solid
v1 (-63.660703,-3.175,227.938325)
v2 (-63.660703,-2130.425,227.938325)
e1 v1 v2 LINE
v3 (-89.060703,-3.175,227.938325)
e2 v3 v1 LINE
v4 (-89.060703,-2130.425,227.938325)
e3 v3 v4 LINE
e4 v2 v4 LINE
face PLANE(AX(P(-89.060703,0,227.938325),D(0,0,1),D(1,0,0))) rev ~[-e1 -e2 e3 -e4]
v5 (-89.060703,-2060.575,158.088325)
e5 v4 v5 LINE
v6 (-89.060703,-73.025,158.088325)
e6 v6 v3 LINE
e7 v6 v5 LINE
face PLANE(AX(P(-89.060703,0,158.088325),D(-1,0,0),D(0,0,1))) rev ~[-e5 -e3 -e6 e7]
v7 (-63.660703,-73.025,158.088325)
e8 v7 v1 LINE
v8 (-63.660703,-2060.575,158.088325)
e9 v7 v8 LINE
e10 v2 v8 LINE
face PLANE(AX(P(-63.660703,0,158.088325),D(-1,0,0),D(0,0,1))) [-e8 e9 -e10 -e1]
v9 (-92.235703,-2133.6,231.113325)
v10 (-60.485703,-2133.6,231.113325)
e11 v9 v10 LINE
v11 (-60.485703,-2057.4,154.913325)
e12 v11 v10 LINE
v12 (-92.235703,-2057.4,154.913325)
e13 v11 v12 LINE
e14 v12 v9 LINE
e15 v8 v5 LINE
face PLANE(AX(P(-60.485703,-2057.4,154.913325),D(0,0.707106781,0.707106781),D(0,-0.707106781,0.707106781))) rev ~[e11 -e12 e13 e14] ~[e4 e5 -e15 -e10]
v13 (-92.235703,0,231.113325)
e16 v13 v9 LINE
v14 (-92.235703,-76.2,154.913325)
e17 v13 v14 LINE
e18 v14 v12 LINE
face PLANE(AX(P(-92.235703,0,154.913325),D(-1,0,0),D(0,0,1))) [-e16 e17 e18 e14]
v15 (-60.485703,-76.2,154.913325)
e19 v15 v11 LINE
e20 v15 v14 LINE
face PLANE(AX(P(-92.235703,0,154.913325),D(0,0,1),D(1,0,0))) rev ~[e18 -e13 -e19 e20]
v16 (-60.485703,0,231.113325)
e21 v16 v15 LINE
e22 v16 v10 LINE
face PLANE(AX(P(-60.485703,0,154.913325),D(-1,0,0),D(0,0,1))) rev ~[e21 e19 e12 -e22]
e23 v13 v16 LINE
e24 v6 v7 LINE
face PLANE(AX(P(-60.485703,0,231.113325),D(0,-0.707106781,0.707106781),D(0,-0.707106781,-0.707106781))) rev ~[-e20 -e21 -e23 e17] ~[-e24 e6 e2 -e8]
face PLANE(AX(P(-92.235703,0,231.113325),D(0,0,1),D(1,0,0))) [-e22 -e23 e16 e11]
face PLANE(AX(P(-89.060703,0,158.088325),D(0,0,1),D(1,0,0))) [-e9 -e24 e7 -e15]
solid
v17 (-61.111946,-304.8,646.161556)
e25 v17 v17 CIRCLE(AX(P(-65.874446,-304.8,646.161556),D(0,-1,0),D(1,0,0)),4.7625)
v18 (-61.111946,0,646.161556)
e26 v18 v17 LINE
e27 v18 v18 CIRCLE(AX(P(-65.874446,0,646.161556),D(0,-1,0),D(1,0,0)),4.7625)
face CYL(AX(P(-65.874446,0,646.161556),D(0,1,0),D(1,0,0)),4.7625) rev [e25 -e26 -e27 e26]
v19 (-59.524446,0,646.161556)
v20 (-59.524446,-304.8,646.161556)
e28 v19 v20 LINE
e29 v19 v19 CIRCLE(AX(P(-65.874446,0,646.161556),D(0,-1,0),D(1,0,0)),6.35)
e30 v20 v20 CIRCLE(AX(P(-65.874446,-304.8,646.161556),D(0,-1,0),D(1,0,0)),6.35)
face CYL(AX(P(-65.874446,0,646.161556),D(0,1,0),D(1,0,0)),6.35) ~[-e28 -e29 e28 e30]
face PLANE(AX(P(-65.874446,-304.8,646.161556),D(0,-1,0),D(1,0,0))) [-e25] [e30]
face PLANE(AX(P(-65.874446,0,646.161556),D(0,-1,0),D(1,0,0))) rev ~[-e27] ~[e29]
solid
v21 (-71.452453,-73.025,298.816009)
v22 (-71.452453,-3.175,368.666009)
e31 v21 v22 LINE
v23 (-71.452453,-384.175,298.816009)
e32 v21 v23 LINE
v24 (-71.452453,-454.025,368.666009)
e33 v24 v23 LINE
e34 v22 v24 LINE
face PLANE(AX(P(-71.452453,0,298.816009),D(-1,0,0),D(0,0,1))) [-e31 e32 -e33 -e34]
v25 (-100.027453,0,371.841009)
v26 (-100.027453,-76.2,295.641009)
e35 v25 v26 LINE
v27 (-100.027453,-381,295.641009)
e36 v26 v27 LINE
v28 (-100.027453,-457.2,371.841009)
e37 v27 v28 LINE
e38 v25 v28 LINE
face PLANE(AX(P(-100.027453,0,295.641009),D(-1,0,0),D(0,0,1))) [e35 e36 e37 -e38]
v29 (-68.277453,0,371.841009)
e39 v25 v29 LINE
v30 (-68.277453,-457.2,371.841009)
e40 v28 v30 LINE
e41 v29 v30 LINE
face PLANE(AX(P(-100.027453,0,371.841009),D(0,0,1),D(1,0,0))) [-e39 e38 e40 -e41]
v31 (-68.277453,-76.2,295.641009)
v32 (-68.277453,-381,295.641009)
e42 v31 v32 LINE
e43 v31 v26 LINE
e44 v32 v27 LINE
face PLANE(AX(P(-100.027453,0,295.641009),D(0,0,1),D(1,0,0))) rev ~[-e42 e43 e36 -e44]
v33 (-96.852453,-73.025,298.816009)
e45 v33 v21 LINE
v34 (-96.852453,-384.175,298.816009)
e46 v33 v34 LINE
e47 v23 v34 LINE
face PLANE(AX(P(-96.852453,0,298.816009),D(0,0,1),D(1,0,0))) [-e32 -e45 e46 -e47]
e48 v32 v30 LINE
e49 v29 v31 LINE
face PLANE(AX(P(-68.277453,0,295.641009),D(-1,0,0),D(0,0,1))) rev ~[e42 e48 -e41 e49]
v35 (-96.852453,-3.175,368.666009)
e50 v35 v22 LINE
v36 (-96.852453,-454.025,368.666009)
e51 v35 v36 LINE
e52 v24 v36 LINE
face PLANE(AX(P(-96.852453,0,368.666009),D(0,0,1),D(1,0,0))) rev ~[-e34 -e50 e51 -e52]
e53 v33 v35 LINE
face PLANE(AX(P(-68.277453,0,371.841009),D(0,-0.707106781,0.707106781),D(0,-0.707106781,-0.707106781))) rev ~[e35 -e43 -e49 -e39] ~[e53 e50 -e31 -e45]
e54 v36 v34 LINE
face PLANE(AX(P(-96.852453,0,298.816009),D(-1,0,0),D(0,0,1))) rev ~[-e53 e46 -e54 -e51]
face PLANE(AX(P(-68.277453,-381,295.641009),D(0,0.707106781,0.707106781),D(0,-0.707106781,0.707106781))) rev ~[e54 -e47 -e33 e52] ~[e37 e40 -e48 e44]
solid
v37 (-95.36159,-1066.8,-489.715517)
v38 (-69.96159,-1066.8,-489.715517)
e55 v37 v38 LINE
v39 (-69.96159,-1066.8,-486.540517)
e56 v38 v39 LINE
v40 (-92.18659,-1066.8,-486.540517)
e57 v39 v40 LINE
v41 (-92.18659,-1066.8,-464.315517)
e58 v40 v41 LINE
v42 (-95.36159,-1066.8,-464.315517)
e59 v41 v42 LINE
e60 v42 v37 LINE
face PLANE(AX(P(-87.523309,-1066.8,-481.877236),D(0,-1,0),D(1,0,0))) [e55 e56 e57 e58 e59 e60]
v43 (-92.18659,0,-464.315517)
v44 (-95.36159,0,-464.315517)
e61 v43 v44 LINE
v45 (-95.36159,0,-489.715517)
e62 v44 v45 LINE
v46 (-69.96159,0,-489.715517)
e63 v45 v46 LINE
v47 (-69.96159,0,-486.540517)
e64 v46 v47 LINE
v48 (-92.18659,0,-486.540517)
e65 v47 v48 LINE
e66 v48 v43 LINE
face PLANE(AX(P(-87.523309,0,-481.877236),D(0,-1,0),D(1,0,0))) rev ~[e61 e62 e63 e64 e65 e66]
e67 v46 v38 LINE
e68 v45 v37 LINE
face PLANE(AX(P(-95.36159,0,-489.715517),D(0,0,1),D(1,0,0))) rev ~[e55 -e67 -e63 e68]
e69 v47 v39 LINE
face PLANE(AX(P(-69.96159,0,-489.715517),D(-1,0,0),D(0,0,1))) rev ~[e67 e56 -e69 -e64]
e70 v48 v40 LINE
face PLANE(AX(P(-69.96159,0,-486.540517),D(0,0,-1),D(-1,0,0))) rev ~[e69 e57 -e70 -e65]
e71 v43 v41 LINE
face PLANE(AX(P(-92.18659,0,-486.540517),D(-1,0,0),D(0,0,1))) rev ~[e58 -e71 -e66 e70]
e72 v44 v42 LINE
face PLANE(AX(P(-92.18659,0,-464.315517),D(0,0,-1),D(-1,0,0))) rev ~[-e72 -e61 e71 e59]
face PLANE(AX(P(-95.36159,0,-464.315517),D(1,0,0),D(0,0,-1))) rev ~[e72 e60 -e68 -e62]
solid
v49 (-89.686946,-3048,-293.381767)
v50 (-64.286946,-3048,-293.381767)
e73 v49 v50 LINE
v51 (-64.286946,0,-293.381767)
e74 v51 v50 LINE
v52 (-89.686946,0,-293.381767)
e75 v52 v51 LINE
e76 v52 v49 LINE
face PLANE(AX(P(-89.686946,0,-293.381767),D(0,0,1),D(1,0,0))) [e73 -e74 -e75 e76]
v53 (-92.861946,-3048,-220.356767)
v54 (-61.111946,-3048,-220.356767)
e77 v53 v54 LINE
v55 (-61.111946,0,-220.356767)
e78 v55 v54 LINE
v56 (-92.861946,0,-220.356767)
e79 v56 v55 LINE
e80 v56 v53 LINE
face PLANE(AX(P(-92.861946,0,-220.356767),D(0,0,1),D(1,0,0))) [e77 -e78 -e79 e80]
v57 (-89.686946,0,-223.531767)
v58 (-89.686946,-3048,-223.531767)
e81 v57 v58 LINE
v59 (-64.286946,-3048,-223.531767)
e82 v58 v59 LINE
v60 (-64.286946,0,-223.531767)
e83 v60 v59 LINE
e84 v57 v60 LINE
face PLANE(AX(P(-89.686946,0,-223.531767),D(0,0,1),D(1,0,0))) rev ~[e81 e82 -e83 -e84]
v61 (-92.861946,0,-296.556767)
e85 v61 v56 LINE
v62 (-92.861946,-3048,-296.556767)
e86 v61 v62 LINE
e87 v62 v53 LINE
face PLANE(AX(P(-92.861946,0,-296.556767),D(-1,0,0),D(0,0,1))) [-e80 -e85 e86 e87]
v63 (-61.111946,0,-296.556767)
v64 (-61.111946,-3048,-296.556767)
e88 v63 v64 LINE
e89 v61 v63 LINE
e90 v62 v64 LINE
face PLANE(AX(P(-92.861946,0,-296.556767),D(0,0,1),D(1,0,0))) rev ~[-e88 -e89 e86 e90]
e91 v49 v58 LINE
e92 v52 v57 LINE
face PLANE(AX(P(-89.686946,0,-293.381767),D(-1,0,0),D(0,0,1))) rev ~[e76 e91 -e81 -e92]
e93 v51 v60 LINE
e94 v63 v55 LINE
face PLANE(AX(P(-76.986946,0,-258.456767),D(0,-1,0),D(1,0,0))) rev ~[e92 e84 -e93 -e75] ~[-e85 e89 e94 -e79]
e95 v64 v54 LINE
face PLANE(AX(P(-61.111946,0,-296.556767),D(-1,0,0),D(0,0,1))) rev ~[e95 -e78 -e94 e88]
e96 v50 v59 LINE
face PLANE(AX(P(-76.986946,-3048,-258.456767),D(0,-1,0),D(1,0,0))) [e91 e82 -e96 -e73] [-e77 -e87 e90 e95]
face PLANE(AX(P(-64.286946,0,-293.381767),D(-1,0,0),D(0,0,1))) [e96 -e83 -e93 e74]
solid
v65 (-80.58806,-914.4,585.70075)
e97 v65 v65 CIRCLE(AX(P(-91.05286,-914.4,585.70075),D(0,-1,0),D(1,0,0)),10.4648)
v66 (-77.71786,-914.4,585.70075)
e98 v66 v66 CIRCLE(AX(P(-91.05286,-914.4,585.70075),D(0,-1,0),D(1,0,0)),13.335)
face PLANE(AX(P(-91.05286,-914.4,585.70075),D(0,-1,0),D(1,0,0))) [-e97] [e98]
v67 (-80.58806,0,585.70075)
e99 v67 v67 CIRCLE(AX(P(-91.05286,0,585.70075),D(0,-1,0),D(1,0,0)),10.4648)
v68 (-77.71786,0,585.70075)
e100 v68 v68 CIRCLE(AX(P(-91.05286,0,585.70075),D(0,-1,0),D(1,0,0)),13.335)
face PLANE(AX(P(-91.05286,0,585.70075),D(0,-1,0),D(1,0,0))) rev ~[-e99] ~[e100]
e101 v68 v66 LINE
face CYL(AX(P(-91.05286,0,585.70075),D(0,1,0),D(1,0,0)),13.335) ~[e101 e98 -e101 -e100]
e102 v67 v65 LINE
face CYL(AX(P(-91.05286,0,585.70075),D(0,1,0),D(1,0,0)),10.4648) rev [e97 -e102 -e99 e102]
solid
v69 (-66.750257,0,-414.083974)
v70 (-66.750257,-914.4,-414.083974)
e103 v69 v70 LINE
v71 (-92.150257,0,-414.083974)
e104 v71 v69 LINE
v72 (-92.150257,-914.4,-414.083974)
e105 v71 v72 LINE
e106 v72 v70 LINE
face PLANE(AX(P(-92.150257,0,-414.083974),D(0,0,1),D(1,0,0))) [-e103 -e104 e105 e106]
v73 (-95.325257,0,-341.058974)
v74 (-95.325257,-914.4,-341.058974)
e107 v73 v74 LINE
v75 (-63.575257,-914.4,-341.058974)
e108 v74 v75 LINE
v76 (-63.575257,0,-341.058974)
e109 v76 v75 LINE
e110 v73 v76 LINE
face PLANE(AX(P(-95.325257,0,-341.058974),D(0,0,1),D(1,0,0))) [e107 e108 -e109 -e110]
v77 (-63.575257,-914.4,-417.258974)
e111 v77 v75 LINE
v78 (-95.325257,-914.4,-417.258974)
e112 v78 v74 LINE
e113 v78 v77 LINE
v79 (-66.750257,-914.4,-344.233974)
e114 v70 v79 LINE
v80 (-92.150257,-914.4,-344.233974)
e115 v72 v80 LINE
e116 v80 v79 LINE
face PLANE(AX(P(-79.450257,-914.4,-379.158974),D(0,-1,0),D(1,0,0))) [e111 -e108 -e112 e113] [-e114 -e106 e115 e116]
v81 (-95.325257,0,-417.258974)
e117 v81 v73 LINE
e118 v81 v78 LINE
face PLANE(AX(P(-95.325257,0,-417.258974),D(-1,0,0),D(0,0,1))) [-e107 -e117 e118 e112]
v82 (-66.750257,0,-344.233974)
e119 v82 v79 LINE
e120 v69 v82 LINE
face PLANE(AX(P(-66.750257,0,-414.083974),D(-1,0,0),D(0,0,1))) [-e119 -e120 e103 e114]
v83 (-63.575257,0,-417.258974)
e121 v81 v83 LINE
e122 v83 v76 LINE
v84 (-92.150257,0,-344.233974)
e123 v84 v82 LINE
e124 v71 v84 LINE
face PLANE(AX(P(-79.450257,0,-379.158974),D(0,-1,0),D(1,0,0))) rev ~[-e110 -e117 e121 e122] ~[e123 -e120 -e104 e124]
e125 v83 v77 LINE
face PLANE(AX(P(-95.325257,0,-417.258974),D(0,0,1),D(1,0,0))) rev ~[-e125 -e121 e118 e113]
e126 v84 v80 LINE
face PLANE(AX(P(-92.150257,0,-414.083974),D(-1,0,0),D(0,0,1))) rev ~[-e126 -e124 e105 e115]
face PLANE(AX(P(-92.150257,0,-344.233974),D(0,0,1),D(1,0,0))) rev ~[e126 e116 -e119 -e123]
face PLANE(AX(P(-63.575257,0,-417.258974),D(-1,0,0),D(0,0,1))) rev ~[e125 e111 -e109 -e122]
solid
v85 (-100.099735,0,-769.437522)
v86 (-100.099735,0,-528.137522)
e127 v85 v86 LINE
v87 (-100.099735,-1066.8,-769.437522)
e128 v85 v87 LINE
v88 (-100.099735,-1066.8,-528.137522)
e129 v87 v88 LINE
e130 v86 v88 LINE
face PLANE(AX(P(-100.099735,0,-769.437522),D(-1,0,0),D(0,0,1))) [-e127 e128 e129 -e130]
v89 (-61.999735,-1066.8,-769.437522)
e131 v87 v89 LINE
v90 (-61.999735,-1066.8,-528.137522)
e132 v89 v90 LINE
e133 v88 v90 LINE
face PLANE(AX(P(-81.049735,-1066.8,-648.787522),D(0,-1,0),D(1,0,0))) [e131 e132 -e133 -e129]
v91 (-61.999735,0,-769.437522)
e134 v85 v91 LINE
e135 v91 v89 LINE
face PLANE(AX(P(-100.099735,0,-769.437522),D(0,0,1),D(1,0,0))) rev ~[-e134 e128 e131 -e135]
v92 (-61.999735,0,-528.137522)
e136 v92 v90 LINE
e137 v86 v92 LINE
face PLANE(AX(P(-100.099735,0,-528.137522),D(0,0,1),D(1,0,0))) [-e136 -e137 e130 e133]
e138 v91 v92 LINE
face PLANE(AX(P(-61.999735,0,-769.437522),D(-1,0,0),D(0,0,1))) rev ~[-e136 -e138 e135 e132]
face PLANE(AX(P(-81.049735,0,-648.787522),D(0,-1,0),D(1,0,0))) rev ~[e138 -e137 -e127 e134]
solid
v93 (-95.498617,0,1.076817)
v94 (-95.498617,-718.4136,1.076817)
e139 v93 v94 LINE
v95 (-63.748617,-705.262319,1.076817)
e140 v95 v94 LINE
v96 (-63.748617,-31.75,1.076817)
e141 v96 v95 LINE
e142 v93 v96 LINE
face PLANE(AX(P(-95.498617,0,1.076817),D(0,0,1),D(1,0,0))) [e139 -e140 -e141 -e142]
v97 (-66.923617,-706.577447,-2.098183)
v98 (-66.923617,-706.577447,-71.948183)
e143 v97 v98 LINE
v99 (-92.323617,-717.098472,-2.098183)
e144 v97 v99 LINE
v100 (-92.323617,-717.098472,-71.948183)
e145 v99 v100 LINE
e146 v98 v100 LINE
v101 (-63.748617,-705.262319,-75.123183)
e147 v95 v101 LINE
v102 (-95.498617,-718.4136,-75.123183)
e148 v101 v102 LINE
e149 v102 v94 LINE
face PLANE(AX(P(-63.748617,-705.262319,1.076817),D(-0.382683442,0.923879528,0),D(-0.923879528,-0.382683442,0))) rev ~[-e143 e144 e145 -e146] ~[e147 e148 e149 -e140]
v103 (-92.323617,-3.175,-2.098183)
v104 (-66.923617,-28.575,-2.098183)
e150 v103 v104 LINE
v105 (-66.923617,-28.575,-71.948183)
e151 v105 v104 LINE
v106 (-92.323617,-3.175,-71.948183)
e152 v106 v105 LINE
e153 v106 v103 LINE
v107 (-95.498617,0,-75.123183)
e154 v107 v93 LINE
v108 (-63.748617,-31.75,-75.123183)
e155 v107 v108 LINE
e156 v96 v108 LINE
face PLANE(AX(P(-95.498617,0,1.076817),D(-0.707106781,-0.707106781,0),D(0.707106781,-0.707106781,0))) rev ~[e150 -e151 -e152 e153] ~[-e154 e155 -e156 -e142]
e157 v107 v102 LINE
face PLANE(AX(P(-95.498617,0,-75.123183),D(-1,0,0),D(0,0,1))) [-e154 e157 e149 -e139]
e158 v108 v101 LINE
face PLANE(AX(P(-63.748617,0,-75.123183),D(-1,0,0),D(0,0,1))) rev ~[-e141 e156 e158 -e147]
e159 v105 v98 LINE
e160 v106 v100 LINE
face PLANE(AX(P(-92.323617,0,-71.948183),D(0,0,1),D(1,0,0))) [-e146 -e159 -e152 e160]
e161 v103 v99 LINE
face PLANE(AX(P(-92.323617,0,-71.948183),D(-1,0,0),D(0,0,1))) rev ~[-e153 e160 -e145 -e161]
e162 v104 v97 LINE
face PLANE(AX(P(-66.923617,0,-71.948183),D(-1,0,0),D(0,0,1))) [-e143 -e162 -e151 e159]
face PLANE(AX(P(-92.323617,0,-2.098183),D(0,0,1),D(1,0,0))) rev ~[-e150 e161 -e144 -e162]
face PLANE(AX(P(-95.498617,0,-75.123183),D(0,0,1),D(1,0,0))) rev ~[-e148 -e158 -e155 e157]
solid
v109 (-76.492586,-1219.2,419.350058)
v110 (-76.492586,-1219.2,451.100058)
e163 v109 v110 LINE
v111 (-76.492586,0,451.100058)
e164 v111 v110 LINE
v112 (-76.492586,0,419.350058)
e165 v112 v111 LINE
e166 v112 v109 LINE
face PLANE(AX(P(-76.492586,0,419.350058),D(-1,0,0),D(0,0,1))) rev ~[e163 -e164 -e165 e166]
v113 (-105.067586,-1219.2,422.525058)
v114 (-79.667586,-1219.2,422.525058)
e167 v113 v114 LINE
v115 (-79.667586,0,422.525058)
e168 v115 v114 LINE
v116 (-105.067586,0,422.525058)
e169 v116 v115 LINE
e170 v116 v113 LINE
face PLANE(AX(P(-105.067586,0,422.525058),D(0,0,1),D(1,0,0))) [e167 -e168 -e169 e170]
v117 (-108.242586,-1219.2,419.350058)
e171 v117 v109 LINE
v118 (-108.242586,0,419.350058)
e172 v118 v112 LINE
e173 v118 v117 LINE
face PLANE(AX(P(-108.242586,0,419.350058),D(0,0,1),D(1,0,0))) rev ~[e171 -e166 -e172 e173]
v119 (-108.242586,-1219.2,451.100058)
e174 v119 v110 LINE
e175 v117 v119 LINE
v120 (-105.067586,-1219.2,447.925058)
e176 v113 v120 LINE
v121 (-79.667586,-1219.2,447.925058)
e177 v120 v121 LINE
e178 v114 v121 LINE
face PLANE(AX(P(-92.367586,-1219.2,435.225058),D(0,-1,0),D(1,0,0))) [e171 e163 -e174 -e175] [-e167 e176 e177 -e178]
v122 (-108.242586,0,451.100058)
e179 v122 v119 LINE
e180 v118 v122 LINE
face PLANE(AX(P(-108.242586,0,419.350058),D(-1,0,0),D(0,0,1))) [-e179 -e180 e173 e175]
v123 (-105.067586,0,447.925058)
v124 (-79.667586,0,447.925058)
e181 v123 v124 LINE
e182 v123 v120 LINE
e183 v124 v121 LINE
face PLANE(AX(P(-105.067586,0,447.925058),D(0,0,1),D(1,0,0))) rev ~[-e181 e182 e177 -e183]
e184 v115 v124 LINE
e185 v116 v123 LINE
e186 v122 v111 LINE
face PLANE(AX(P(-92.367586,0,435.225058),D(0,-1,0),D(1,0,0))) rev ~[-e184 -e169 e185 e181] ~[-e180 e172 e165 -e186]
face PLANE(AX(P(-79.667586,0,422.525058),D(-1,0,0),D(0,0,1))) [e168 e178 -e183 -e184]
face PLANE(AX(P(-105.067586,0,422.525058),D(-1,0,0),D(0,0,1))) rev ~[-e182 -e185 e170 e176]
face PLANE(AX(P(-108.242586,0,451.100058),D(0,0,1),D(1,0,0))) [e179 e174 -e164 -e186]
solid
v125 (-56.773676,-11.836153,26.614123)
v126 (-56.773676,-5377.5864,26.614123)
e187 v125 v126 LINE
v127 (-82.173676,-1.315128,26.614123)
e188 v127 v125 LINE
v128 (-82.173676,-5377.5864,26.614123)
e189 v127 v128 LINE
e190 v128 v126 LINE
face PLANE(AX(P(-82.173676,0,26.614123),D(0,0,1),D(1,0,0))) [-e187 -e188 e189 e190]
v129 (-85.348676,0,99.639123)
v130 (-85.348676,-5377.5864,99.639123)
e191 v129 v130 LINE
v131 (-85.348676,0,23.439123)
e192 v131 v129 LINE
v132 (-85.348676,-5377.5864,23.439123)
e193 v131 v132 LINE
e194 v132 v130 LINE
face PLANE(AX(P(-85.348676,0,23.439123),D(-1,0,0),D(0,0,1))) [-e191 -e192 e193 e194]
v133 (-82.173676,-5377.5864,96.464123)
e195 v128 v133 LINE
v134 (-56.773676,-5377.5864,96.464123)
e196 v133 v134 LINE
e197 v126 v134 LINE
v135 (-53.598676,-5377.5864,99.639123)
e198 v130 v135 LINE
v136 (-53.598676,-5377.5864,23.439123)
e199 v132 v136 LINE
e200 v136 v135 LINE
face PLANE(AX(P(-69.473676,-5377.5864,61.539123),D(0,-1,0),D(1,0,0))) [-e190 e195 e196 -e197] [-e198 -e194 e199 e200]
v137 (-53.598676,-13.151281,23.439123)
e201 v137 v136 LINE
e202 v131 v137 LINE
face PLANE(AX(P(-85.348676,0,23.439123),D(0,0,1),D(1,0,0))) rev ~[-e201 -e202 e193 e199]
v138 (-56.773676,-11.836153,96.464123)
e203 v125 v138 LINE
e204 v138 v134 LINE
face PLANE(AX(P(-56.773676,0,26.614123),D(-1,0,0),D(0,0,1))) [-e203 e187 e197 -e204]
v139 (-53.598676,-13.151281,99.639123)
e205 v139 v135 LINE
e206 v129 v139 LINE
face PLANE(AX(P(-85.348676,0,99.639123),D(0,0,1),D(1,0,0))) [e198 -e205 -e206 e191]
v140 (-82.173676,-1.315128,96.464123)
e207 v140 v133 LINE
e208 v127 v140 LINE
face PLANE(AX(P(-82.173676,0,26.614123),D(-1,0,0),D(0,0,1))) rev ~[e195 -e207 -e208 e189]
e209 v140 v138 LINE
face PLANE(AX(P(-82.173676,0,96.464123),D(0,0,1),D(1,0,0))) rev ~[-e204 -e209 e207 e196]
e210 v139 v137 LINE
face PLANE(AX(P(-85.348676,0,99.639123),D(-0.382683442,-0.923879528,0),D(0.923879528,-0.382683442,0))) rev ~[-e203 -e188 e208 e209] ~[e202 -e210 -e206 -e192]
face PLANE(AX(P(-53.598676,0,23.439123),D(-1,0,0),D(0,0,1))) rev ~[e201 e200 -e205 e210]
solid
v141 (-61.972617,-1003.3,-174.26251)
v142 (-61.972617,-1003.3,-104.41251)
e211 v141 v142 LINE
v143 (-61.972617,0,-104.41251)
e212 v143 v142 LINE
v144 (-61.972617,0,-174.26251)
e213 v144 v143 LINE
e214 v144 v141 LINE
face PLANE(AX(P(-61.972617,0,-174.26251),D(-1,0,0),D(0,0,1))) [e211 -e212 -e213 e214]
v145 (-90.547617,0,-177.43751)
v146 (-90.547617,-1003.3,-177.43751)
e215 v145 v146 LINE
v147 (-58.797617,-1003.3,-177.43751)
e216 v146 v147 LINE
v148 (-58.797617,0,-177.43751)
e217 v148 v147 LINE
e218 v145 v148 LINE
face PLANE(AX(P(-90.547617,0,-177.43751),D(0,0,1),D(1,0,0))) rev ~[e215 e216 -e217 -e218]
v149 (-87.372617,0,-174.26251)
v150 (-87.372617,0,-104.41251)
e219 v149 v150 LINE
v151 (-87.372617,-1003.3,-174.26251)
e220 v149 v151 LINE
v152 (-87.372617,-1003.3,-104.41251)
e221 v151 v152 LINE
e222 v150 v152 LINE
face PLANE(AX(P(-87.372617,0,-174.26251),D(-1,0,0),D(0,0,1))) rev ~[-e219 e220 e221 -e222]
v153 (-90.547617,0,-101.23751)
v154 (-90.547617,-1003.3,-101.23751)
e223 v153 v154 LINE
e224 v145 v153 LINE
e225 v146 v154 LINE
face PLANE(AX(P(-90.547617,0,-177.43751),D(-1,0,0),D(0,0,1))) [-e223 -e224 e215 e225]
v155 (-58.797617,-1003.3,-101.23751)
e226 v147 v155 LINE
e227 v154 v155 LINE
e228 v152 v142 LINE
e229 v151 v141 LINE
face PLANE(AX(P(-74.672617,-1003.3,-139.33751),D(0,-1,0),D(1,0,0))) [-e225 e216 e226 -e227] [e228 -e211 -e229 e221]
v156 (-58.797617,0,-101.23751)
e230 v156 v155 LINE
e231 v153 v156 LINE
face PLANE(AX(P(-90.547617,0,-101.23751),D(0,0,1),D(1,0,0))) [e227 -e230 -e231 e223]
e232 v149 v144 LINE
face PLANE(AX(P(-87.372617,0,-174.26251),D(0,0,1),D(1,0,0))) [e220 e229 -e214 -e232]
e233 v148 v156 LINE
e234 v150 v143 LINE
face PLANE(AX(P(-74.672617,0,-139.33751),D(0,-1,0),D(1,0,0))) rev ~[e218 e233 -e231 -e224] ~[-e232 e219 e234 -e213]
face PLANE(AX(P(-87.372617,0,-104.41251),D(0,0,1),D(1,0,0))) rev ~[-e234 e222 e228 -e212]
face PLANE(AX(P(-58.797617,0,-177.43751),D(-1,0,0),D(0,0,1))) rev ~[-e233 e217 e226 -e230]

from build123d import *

# Parameters (mm, degrees)
F0_W      = 31.75
F0_H      = 76.2
F0_W_2    = 25.4
F0_H_2    = 69.85
F1_DEPTH  = 5377.5864
F2_DEPTH  = 718.4136
F3_DEPTH  = 1003.3
F4_DEPTH  = 3048
F6_DEPTH  = 76.2
F8_DEPTH  = 76.2
F9_DEPTH  = 1066.8
F0_W_3    = 38.1
F0_H_3    = 241.3
F10_DEPTH = 1066.8
F11_DEPTH = 2133.6
F13_DEPTH = 31.75
F14_DEPTH = 914.4
F15_DEPTH = 457.2
F17_DEPTH = 31.75
F0_H_4    = 31.75
F0_H_5    = 25.4
F18_DEPTH = 1219.2
F0_R      = 6.35
F0_R_2    = 4.7625
F19_DEPTH = 304.8
F0_R_3    = 13.335
F0_R_4    = 10.4648
F20_DEPTH = 914.4


with BuildPart() as f1:
    # F0 (on Front) → F1 (new body)
    with BuildSketch(Plane.XZ):
        with Locations((-69.473676, 61.539123)):
            Rectangle(F0_W, F0_H)
        with Locations((-69.473676, 61.539123)):
            Rectangle(F0_W_2, F0_H_2, mode=Mode.SUBTRACT)
    extrude(amount=F1_DEPTH)

    # F5 (on face) → F6 (cut)
    with BuildSketch(Plane.XY.offset(99.639123)):
        Polygon((-53.598676, 0), (-85.348676, 0), (-53.598676, -13.151281), align=None)
    extrude(amount=-F6_DEPTH, mode=Mode.SUBTRACT)


with BuildPart() as f2:
    # F0 (on Front) → F2 (new body)
    with BuildSketch(Plane.XZ):
        with Locations((-79.623617, -37.023183)):
            Rectangle(F0_W, F0_H)
        with Locations((-79.623617, -37.023183)):
            Rectangle(F0_W_2, F0_H_2, mode=Mode.SUBTRACT)
    extrude(amount=F2_DEPTH)

    # F7 (on face) → F8 (cut)
    with BuildSketch(Plane.XY.offset(1.076817)):
        Polygon((-63.748617, 0), (-95.498617, 0), (-63.748617, -31.75), align=None)
        Polygon((-63.748617, -705.262319), (-95.498617, -718.4136), (-63.748617, -718.4136), align=None)
    extrude(amount=-F8_DEPTH, mode=Mode.SUBTRACT)


with BuildPart() as f3:
    # F0 (on Front) → F3 (new body)
    with BuildSketch(Plane.XZ):
        with Locations((-74.672617, -139.33751)):
            Rectangle(F0_W, F0_H)
        with Locations((-74.672617, -139.33751)):
            Rectangle(F0_W_2, F0_H_2, mode=Mode.SUBTRACT)
    extrude(amount=F3_DEPTH)


with BuildPart() as f4:
    # F0 (on Front) → F4 (new body)
    with BuildSketch(Plane.XZ):
        with Locations((-76.986946, -258.456767)):
            Rectangle(F0_W, F0_H)
        with Locations((-76.986946, -258.456767)):
            Rectangle(F0_W_2, F0_H_2, mode=Mode.SUBTRACT)
    extrude(amount=F4_DEPTH)


with BuildPart() as f9:
    # F0 (on Front) → F9 (new body)
    with BuildSketch(Plane.XZ):
        Polygon((-92.18659, -464.315517), (-95.36159, -464.315517), (-95.36159, -489.715517), (-69.96159, -489.715517), (-69.96159, -486.540517), (-92.18659, -486.540517), align=None)
    extrude(amount=F9_DEPTH)


with BuildPart() as f10:
    # F0 (on Front) → F10 (new body, through all)
    with BuildSketch(Plane.XZ):
        with Locations((-81.049735, -648.787522)):
            Rectangle(F0_W_3, F0_H_3)
    extrude(amount=F10_DEPTH)


with BuildPart() as f11:
    # F0 (on Front) → F11 (new body)
    with BuildSketch(Plane.XZ):
        with Locations((-76.360703, 193.013325)):
            Rectangle(F0_W, F0_H)
        with Locations((-76.360703, 193.013325)):
            Rectangle(F0_W_2, F0_H_2, mode=Mode.SUBTRACT)
    extrude(amount=F11_DEPTH)

    # F12 (on face) → F13 (cut)
    with BuildSketch(Plane.YZ.offset(-60.485703)):
        Polygon((0, 154.913325), (0, 231.113325), (-76.2, 154.913325), align=None)
        Polygon((-2057.4, 154.913325), (-2133.6, 231.113325), (-2133.6, 154.913325), align=None)
    extrude(amount=-F13_DEPTH, mode=Mode.SUBTRACT)


with BuildPart() as f14:
    # F0 (on Front) → F14 (new body)
    with BuildSketch(Plane.XZ):
        with Locations((-79.450257, -379.158974)):
            Rectangle(F0_W, F0_H)
        with Locations((-79.450257, -379.158974)):
            Rectangle(F0_W_2, F0_H_2, mode=Mode.SUBTRACT)
    extrude(amount=F14_DEPTH)


with BuildPart() as f15:
    # F0 (on Front) → F15 (new body)
    with BuildSketch(Plane.XZ):
        with Locations((-84.152453, 333.741009)):
            Rectangle(F0_W, F0_H)
        with Locations((-84.152453, 333.741009)):
            Rectangle(F0_W_2, F0_H_2, mode=Mode.SUBTRACT)
    extrude(amount=F15_DEPTH)

    # F16 (on face) → F17 (cut)
    with BuildSketch(Plane.YZ.offset(-68.277453)):
        Polygon((-381, 295.641009), (-457.2, 371.841009), (-457.2, 295.641009), align=None)
        Polygon((0, 295.641009), (0, 371.841009), (-76.2, 295.641009), align=None)
    extrude(amount=-F17_DEPTH, mode=Mode.SUBTRACT)


with BuildPart() as f18:
    # F0 (on Front) → F18 (new body)
    with BuildSketch(Plane.XZ):
        with Locations((-92.367586, 435.225058)):
            Rectangle(F0_W, F0_H_4)
        with Locations((-92.367586, 435.225058)):
            Rectangle(F0_W_2, F0_H_5, mode=Mode.SUBTRACT)
    extrude(amount=F18_DEPTH)


with BuildPart() as f19:
    # F0 (on Front) → F19 (new body)
    with BuildSketch(Plane.XZ):
        with Locations((-65.874446, 646.161556)):
            Circle(F0_R)
        with Locations((-65.874446, 646.161556)):
            Circle(F0_R_2, mode=Mode.SUBTRACT)
    extrude(amount=F19_DEPTH)


with BuildPart() as f20:
    # F0 (on Front) → F20 (new body)
    with BuildSketch(Plane.XZ):
        with Locations((-91.05286, 585.70075)):
            Circle(F0_R_3)
        with Locations((-91.05286, 585.70075)):
            Circle(F0_R_4, mode=Mode.SUBTRACT)
    extrude(amount=F20_DEPTH)


solid = Compound([f1.part, f2.part, f3.part, f4.part, f9.part, f10.part, f11.part, f14.part, f15.part, f18.part, f19.part, f20.part])
